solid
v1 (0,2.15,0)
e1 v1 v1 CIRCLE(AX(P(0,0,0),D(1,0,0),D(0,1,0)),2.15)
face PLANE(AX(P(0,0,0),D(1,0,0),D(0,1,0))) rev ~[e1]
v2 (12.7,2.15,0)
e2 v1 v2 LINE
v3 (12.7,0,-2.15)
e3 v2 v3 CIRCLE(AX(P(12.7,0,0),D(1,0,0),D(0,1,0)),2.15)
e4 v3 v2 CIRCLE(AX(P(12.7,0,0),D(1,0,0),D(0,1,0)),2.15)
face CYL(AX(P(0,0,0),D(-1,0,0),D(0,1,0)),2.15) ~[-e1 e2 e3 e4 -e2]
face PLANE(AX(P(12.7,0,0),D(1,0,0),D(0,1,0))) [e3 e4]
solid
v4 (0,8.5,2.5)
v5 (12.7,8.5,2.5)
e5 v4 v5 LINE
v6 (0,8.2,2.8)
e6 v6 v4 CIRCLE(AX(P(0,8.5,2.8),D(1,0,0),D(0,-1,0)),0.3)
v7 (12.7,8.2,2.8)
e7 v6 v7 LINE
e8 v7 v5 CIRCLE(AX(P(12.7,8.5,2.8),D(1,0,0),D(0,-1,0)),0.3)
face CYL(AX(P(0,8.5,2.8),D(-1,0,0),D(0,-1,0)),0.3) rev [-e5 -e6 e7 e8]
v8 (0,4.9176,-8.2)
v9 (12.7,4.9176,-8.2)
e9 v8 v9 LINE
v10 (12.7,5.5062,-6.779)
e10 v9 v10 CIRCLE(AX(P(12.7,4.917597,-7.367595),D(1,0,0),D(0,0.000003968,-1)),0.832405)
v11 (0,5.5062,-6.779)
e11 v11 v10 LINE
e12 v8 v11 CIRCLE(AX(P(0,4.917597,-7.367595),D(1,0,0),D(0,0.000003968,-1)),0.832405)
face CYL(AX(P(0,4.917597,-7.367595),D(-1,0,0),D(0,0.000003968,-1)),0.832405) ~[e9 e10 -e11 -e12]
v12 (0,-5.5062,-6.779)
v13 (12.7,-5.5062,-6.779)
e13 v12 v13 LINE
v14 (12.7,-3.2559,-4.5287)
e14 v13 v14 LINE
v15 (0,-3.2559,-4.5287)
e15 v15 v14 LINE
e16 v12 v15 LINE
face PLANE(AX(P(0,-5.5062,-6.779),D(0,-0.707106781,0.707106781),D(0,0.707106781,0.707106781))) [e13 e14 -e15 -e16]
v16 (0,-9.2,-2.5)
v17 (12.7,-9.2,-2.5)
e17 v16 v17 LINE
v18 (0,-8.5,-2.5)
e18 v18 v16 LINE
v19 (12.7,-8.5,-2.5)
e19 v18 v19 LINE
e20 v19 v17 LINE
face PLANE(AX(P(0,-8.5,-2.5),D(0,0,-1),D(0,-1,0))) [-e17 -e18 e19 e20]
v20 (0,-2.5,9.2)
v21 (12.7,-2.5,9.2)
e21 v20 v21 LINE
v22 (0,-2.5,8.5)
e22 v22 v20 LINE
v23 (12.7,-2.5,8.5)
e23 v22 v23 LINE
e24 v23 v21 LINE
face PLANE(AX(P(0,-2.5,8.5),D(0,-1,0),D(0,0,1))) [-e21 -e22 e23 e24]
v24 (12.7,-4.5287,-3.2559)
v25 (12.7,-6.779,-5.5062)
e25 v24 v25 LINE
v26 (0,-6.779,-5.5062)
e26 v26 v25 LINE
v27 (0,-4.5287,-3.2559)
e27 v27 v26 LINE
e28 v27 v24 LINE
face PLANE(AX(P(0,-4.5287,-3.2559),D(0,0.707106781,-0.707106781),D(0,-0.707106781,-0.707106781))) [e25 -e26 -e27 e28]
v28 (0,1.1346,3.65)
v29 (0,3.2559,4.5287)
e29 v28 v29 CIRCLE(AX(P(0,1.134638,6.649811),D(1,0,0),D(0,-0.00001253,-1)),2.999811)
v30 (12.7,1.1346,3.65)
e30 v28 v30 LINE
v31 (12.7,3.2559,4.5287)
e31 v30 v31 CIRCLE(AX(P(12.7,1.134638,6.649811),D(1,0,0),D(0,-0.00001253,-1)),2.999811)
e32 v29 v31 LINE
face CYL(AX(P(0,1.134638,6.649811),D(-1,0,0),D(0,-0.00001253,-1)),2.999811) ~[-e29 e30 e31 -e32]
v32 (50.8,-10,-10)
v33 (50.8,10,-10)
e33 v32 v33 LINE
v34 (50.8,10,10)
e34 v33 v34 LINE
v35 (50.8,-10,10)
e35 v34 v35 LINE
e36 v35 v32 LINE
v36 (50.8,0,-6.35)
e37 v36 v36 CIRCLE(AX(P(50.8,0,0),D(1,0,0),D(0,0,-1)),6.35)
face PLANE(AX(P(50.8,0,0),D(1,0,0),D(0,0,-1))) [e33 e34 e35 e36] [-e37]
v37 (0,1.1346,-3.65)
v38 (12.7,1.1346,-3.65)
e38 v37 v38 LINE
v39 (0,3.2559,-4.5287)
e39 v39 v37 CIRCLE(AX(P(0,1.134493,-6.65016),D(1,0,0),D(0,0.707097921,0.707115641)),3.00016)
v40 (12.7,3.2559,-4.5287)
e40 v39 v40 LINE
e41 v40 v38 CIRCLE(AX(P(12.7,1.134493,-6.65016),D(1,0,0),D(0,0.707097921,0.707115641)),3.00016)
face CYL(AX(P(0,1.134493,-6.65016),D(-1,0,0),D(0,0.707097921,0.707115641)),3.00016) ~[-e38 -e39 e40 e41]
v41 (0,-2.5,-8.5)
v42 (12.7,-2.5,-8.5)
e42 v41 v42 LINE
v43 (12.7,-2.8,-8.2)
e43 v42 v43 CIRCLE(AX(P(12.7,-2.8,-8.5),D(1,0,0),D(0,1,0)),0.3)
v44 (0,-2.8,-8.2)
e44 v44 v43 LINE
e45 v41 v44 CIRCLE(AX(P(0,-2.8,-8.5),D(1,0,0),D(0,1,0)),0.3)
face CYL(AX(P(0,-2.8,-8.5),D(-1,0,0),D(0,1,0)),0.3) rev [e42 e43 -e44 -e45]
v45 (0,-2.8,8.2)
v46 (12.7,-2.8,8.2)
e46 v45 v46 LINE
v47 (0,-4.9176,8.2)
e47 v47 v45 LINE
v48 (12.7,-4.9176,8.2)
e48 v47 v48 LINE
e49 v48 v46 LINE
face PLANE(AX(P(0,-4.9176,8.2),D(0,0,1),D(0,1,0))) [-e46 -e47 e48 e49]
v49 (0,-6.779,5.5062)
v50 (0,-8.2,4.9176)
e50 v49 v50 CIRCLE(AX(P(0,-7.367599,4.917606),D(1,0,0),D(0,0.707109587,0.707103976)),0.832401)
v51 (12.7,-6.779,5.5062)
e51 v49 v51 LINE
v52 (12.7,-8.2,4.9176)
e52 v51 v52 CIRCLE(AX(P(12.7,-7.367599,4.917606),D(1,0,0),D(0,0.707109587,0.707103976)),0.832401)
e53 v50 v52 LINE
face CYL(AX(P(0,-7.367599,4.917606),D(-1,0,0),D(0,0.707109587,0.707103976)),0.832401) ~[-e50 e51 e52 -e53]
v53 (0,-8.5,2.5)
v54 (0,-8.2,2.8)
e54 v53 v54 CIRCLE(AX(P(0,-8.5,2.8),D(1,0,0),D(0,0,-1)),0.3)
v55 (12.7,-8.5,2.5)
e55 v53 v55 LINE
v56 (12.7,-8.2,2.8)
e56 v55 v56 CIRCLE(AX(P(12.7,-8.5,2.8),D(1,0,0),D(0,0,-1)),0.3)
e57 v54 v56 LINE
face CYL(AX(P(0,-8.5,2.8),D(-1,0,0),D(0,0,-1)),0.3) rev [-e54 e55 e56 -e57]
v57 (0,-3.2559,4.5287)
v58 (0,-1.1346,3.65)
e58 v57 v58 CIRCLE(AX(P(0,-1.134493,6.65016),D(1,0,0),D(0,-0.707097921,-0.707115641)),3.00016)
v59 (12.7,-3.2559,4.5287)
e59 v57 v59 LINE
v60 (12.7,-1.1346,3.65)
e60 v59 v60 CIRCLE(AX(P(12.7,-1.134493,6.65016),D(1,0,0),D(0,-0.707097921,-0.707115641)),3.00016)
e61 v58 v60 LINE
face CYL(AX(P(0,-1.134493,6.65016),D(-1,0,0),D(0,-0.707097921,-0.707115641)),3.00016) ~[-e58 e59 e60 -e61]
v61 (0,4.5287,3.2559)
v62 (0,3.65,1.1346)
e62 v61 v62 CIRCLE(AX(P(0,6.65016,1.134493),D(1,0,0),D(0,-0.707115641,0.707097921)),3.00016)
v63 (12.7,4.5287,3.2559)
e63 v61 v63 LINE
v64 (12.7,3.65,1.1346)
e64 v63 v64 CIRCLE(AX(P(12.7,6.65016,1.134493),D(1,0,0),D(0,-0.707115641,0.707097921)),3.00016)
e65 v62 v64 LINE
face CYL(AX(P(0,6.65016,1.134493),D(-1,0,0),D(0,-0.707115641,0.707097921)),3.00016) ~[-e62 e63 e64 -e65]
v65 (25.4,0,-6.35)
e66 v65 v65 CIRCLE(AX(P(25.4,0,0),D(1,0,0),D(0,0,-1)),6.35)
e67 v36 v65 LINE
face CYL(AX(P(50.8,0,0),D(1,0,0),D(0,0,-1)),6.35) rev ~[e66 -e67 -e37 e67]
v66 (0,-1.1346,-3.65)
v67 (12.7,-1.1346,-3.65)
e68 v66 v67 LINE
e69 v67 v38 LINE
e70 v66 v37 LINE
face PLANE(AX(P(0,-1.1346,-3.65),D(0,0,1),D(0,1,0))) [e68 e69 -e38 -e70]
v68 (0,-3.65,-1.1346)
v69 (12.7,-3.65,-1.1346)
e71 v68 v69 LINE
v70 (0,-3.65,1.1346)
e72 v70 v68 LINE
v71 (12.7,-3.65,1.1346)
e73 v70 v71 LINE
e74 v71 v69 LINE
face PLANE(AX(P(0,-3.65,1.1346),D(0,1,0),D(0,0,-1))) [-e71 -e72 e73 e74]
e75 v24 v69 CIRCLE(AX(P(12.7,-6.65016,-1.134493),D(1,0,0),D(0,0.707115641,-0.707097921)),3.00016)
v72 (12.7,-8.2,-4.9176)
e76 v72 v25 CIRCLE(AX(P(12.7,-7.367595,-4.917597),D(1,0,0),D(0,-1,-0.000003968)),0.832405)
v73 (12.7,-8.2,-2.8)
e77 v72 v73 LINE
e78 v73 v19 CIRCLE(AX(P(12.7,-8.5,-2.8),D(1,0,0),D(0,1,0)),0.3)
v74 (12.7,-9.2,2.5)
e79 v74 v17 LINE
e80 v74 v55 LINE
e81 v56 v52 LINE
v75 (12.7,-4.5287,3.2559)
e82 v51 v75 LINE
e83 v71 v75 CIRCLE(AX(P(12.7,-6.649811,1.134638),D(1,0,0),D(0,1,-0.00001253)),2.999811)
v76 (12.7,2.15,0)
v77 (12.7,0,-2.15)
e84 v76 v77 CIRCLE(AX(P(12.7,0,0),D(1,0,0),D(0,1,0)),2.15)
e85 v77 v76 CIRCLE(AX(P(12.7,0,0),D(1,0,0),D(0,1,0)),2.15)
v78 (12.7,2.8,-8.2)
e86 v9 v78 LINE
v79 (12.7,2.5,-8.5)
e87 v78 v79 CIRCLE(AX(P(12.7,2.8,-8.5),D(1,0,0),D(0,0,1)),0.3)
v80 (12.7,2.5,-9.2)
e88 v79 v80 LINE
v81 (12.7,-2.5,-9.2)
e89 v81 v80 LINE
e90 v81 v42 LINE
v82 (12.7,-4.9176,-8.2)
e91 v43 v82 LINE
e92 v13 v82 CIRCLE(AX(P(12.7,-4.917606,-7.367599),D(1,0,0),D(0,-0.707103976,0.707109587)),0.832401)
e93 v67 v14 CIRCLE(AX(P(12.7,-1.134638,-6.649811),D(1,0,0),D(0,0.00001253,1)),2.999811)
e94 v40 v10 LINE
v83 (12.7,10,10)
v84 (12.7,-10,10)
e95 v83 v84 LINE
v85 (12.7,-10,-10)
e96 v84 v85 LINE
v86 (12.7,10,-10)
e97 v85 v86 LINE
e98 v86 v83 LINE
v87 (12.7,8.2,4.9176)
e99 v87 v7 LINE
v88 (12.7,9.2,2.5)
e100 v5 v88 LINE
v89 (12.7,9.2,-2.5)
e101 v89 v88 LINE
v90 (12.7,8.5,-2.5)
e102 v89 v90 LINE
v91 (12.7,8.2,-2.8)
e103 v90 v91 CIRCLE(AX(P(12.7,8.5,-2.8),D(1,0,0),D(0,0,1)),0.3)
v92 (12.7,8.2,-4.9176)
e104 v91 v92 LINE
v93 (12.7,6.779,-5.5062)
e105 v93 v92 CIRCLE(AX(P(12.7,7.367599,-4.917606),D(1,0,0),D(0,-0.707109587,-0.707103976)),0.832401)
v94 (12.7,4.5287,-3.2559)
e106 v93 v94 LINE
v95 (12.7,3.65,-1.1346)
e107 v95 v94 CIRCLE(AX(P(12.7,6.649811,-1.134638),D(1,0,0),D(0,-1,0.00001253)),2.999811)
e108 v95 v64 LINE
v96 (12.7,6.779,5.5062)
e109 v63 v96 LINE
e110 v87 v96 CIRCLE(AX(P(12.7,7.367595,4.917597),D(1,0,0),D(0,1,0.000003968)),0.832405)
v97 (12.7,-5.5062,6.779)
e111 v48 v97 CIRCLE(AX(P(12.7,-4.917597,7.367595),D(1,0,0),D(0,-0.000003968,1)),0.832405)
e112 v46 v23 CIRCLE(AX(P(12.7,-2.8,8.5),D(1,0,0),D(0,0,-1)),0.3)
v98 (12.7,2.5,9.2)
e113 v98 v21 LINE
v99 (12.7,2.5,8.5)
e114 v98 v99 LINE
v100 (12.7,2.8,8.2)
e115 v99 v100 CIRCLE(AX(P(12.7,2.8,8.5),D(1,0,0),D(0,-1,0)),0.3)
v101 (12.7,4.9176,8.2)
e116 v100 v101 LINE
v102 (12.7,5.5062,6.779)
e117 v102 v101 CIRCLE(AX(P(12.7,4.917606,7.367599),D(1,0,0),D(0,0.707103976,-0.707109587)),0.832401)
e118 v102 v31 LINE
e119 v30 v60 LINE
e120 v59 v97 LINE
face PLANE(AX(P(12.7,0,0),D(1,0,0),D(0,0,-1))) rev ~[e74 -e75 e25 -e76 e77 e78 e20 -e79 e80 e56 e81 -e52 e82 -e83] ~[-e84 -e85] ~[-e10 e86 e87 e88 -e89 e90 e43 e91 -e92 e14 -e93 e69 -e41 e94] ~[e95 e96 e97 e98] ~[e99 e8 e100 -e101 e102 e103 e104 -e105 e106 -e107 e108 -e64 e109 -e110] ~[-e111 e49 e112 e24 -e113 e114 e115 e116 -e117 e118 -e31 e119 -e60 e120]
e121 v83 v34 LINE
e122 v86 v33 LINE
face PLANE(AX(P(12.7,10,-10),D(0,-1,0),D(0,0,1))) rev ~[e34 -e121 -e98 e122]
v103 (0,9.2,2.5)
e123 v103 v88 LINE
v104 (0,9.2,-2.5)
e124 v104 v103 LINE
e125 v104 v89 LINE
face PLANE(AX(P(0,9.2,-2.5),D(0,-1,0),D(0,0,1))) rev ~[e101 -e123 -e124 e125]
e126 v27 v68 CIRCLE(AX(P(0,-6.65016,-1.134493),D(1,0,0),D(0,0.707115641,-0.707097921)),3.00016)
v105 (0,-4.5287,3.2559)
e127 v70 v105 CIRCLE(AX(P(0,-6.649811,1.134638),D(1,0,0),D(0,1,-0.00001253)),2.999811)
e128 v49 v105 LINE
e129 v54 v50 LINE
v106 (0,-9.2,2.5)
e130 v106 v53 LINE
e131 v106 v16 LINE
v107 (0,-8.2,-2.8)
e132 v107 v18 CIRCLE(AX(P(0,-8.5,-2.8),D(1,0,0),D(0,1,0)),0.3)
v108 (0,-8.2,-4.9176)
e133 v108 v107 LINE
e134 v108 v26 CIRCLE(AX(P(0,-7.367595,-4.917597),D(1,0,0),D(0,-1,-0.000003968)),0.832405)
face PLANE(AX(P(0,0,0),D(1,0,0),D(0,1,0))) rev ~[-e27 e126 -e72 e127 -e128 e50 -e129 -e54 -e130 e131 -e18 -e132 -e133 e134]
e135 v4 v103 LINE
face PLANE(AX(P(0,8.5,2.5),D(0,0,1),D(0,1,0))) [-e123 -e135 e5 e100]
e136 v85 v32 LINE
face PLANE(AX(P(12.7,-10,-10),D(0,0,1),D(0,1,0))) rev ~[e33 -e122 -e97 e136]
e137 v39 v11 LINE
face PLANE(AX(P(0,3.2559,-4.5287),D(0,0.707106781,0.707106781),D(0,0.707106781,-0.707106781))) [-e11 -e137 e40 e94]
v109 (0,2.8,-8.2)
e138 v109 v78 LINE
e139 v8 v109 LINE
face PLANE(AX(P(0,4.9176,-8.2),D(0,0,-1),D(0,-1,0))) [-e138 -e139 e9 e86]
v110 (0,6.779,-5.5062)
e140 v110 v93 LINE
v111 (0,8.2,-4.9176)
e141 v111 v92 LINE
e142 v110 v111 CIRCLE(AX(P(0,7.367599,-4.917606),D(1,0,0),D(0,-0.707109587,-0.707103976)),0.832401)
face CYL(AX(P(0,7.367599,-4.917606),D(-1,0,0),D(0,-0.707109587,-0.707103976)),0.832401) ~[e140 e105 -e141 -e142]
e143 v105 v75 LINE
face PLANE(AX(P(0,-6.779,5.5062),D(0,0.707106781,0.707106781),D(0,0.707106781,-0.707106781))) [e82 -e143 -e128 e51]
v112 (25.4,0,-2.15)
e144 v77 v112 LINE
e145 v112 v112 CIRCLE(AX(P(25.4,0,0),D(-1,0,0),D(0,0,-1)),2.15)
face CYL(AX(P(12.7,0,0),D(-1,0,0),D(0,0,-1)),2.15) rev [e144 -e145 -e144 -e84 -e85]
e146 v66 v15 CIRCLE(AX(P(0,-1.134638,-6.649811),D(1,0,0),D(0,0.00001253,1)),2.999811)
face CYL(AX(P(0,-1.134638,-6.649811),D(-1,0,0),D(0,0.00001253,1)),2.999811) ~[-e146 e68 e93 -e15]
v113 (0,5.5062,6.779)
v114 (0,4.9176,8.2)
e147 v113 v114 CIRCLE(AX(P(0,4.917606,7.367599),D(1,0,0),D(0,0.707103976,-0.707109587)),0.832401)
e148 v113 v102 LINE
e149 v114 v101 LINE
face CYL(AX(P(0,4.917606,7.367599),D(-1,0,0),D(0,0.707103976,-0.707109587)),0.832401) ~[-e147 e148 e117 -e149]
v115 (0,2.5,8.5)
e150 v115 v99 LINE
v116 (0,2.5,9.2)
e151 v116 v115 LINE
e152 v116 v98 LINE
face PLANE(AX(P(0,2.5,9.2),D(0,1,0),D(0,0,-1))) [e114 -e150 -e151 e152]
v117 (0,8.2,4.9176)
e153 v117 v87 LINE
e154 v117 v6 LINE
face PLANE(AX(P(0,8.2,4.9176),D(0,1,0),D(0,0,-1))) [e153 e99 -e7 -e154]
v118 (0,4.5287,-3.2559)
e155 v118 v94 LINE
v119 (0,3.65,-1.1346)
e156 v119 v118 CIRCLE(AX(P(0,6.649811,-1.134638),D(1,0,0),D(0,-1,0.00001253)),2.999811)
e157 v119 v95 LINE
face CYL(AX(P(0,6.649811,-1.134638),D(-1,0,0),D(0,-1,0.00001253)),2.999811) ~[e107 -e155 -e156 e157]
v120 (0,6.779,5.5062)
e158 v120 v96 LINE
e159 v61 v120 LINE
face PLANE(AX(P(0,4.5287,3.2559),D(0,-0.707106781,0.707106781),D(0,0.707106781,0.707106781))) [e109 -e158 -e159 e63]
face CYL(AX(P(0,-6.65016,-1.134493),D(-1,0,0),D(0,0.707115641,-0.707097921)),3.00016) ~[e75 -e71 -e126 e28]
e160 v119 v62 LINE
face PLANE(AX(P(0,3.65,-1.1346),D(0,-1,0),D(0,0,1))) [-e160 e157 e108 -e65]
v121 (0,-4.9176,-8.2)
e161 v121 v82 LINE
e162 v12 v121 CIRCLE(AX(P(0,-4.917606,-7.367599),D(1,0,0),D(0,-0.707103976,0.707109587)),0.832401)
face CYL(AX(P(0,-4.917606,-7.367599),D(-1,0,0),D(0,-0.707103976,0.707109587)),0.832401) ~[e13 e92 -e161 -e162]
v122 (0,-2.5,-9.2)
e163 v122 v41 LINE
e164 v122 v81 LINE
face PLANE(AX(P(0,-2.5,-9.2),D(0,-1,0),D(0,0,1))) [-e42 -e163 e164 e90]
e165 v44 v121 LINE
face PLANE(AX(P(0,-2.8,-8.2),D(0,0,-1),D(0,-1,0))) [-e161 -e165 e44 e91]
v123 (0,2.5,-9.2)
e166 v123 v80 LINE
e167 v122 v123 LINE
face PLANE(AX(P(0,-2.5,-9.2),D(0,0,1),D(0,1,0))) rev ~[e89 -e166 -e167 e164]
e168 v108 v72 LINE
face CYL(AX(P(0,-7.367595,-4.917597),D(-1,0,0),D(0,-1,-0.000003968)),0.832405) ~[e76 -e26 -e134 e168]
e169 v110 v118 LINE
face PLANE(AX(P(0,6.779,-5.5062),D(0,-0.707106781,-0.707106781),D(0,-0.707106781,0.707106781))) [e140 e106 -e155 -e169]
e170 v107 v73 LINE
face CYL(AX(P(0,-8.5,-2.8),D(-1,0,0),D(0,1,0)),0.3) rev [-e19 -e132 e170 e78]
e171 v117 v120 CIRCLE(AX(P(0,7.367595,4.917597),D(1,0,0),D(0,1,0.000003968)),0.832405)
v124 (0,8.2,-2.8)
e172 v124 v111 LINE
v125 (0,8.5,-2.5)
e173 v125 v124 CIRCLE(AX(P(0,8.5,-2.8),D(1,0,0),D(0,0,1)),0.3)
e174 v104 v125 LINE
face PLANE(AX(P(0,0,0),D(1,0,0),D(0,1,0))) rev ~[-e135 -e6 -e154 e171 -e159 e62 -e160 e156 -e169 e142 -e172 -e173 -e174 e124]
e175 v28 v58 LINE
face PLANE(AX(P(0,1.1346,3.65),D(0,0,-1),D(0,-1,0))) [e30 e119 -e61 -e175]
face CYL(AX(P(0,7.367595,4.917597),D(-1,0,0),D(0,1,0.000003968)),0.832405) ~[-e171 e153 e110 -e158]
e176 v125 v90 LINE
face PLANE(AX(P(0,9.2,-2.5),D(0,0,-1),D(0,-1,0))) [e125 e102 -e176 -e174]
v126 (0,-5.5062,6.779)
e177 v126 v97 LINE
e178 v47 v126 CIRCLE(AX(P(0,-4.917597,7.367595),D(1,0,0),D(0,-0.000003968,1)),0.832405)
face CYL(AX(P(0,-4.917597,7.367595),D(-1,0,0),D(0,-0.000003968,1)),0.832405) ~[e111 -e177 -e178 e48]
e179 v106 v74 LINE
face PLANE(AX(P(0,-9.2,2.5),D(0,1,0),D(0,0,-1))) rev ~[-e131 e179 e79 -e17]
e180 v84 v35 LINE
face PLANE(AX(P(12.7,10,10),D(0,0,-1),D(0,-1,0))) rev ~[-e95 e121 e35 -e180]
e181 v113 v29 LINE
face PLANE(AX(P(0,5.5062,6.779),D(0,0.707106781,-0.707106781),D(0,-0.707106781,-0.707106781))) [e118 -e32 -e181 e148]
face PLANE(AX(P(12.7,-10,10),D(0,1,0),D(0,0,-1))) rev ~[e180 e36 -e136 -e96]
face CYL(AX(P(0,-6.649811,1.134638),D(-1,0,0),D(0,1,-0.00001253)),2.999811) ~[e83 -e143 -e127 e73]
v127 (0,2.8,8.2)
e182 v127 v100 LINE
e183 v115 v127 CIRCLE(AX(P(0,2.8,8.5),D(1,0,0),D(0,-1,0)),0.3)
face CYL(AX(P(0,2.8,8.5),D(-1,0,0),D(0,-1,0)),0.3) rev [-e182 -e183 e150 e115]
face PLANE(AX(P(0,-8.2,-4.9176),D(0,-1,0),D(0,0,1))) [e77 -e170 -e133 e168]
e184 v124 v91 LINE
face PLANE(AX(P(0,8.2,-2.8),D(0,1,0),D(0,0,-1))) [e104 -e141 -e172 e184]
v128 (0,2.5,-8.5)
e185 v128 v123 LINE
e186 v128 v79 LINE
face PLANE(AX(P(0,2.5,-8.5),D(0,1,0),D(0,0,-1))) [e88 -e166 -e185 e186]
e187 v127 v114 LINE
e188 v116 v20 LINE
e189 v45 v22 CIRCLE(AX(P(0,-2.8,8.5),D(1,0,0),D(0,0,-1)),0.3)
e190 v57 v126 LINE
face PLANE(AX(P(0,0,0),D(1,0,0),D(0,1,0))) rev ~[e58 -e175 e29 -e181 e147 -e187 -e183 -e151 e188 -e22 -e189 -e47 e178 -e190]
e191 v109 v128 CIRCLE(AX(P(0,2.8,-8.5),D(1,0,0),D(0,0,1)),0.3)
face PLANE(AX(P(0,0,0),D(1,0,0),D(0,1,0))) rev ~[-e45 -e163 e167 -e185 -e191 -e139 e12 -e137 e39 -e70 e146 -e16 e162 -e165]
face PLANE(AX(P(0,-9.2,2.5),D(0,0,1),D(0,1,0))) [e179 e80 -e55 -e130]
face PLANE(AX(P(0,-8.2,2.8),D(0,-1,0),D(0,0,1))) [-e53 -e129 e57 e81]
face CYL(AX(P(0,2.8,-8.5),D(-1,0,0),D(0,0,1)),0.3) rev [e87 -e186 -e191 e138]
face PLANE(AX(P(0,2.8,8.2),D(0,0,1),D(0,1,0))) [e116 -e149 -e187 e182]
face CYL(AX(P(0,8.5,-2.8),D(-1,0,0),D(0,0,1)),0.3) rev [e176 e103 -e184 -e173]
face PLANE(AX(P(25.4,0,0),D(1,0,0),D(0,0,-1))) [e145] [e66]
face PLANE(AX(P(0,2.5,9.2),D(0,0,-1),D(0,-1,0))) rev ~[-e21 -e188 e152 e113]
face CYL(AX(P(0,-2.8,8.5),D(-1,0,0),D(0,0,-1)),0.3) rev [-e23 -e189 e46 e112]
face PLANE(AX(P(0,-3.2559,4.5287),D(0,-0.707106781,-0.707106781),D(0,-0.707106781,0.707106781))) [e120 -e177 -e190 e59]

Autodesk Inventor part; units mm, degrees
ref_plane "YZ Plane" through (0, 0, 0) normal (1, 0, 0) x (0, 1, 0)
ref_plane "XZ Plane" through (0, 0, 0) normal (0, 1, 0) x (-1, 0, 0)
ref_plane "XY Plane" through (0, 0, 0) normal (0, 0, 1) x (1, 0, 0)
sketch "Sketch1" plane through (0, 0, 0) normal (1, 0, 0) x (0, 1, 0)
  arc A0 (3.3, 10) -> (2.5, 9.2) centre (3.3, 9.2) ccw
  line L0 (2.5, 9.2) -> (2.5, 8.5)
  arc A1 (2.5, 8.5) -> (2.8, 8.2) centre (2.8, 8.5) ccw
  line L1 (2.8, 8.2) -> (4.9176, 8.2)
  arc A2 (5.5062, 6.779) -> (4.9176, 8.2) centre (4.9176, 7.3676) ccw
  line L2 (5.5062, 6.779) -> (3.2559, 4.5287)
  arc A3 (1.1346, 3.65) -> (3.2559, 4.5287) centre (1.1346, 6.65) ccw
  line L3 (1.1346, 3.65) -> (-1.1346, 3.65)
  arc A4 (-3.2559, 4.5287) -> (-1.1346, 3.65) centre (-1.1346, 6.65) ccw
  line L4 (-3.2559, 4.5287) -> (-5.5062, 6.779)
  arc A5 (-4.9176, 8.2) -> (-5.5062, 6.779) centre (-4.9176, 7.3676) ccw
  line L5 (-4.9176, 8.2) -> (-2.8, 8.2)
  arc A6 (-2.8, 8.2) -> (-2.5, 8.5) centre (-2.8, 8.5) ccw
  line L6 (-2.5, 8.5) -> (-2.5, 9.2)
  arc A7 (-2.5, 9.2) -> (-3.3, 10) centre (-3.3, 9.2) ccw
  line L7 (-8, 10) -> (-3.3, 10)
  arc A8 (-8, 10) -> (-10, 8) centre (-8, 8) ccw
  line L8 (-10, -3.3) -> (-10, 8)
  arc A9 (-10, 3.3) -> (-9.2, 2.5) centre (-9.2, 3.3) ccw
  line L9 (-9.2, 2.5) -> (-8.5, 2.5)
  arc A10 (-8.5, 2.5) -> (-8.2, 2.8) centre (-8.5, 2.8) ccw
  line L10 (-8.2, 2.8) -> (-8.2, 4.9176)
  arc A11 (-6.779, 5.5062) -> (-8.2, 4.9176) centre (-7.3676, 4.9176) ccw
  line L11 (-6.779, 5.5062) -> (-4.5287, 3.2559)
  arc A12 (-3.65, 1.1346) -> (-4.5287, 3.2559) centre (-6.65, 1.1346) ccw
  line L12 (-3.65, 1.1346) -> (-3.65, -1.1346)
  arc A13 (-4.5287, -3.2559) -> (-3.65, -1.1346) centre (-6.65, -1.1346) ccw
  line L13 (-4.5287, -3.2559) -> (-6.779, -5.5062)
  arc A14 (-8.2, -4.9176) -> (-6.779, -5.5062) centre (-7.3676, -4.9176) ccw
  line L14 (-8.2, -4.9176) -> (-8.2, -2.8)
  arc A15 (-8.2, -2.8) -> (-8.5, -2.5) centre (-8.5, -2.8) ccw
  line L15 (-8.5, -2.5) -> (-9.2, -2.5)
  arc A16 (-9.2, -2.5) -> (-10, -3.3) centre (-9.2, -3.3) ccw
  line L16 (-10, -8) -> (-10, -3.3)
  arc A17 (-10, -8) -> (-8, -10) centre (-8, -8) ccw
  line L17 (3.3, -10) -> (-8, -10)
  arc A18 (-3.3, -10) -> (-2.5, -9.2) centre (-3.3, -9.2) ccw
  line L18 (-2.5, -9.2) -> (-2.5, -8.5)
  arc A19 (-2.5, -8.5) -> (-2.8, -8.2) centre (-2.8, -8.5) ccw
  line L19 (-2.8, -8.2) -> (-4.9176, -8.2)
  arc A20 (-5.5062, -6.779) -> (-4.9176, -8.2) centre (-4.9176, -7.3676) ccw
  line L20 (-5.5062, -6.779) -> (-3.2559, -4.5287)
  arc A21 (-1.1346, -3.65) -> (-3.2559, -4.5287) centre (-1.1346, -6.65) ccw
  line L21 (-1.1346, -3.65) -> (1.1346, -3.65)
  arc A22 (3.2559, -4.5287) -> (1.1346, -3.65) centre (1.1346, -6.65) ccw
  line L22 (3.2559, -4.5287) -> (5.5062, -6.779)
  arc A23 (4.9176, -8.2) -> (5.5062, -6.779) centre (4.9176, -7.3676) ccw
  line L23 (4.9176, -8.2) -> (2.8, -8.2)
  arc A24 (2.8, -8.2) -> (2.5, -8.5) centre (2.8, -8.5) ccw
  line L24 (2.5, -8.5) -> (2.5, -9.2)
  arc A25 (2.5, -9.2) -> (3.3, -10) centre (3.3, -9.2) ccw
  line L25 (8, -10) -> (3.3, -10)
  arc A26 (8, -10) -> (10, -8) centre (8, -8) ccw
  line L26 (10, 3.3) -> (10, -8)
  arc A27 (10, -3.3) -> (9.2, -2.5) centre (9.2, -3.3) ccw
  line L27 (9.2, -2.5) -> (8.5, -2.5)
  arc A28 (8.5, -2.5) -> (8.2, -2.8) centre (8.5, -2.8) ccw
  line L28 (8.2, -2.8) -> (8.2, -4.9176)
  arc A29 (6.779, -5.5062) -> (8.2, -4.9176) centre (7.3676, -4.9176) ccw
  line L29 (6.779, -5.5062) -> (4.5287, -3.2559)
  arc A30 (3.65, -1.1346) -> (4.5287, -3.2559) centre (6.65, -1.1346) ccw
  line L30 (3.65, -1.1346) -> (3.65, 1.1346)
  arc A31 (4.5287, 3.2559) -> (3.65, 1.1346) centre (6.65, 1.1346) ccw
  line L31 (4.5287, 3.2559) -> (6.779, 5.5062)
  arc A32 (8.2, 4.9176) -> (6.779, 5.5062) centre (7.3676, 4.9176) ccw
  line L32 (8.2, 4.9176) -> (8.2, 2.8)
  arc A33 (8.2, 2.8) -> (8.5, 2.5) centre (8.5, 2.8) ccw
  line L33 (8.5, 2.5) -> (9.2, 2.5)
  arc A34 (9.2, 2.5) -> (10, 3.3) centre (9.2, 3.3) ccw
  line L34 (10, 8) -> (10, 3.3)
  arc A35 (10, 8) -> (8, 10) centre (8, 8) ccw
  line L35 (-3.3, 10) -> (8, 10)
  circle A36 centre (0, 0) radius 2.15
  line L36 (2.5, 9.2) -> (-2.5, 9.2)
  line L37 (-9.2, 2.5) -> (-9.2, -2.5)
  line L38 (-2.5, -9.2) -> (2.5, -9.2)
  line L39 (9.2, -2.5) -> (9.2, 2.5)
  point P0 (0, 0)
  point P1 (0, 0)
  point P2 (-9.2, 2.5)
  point P3 (-1.2, -12.5)
  point P4 (-2.5, -9.2)
  point P5 (10.5, -19.2)
  point P6 (17.2, -12.5)
  point P7 (9.2, 2.5)
  point P8 (9.2, -2.5)
  dimension "d2" = 360
extrude "Extrusion1" add sketch "Sketch1" along normal blind 12.7 contours L0 A1 L1 A2 L2 A3 L3 A4 L4 A5 L5 A6 L6 L36 | L39 L27 A28 L28 A29 L29 A30 L30 A31 L31 A32 L32 A33 L33 | L9 A10 L10 A11 L11 A12 L12 A13 L13 A14 L14 A15 L15 L37 | L38 L18 A19 L19 A20 L20 A21 L21 A22 L22 A23 L23 A24 L24 | A36
sketch "Sketch2" plane through (12.7, 0, 0) normal (1, 0, 0) x (0, 0, -1)
  circle A0 centre (0, 0) radius 2.15 projected
  line L0 (-10, -10) -> (10, -10)
  line L1 (10, -10) -> (10, 10)
  line L2 (10, 10) -> (-10, 10)
  line L3 (-10, 10) -> (-10, -10)
  line L4 (-10, -10) -> (10, 10) construction
  line L5 (10, -10) -> (-10, 10) construction
  point P0 (0, 0)
  dimension "d6" = 20
  dimension "d7" = 20
extrude "Extrusion2" add sketch "Sketch2" along normal blind 38.1
sketch "Sketch3" plane through (50.8, 0, 0) normal (1, 0, 0) x (0, 0, -1)
  circle A0 centre (0, 0) radius 6.35
  dimension "d10" = 12.7
extrude "Extrusion3" cut sketch "Sketch3" against normal blind 25.4
thread "Thread1" size "1/2-13 UNC" class "2B" standard "ANSI Unified Screw Threads" full length
properties part number "Line 5 Adapter" material "Aluminum 6061"
